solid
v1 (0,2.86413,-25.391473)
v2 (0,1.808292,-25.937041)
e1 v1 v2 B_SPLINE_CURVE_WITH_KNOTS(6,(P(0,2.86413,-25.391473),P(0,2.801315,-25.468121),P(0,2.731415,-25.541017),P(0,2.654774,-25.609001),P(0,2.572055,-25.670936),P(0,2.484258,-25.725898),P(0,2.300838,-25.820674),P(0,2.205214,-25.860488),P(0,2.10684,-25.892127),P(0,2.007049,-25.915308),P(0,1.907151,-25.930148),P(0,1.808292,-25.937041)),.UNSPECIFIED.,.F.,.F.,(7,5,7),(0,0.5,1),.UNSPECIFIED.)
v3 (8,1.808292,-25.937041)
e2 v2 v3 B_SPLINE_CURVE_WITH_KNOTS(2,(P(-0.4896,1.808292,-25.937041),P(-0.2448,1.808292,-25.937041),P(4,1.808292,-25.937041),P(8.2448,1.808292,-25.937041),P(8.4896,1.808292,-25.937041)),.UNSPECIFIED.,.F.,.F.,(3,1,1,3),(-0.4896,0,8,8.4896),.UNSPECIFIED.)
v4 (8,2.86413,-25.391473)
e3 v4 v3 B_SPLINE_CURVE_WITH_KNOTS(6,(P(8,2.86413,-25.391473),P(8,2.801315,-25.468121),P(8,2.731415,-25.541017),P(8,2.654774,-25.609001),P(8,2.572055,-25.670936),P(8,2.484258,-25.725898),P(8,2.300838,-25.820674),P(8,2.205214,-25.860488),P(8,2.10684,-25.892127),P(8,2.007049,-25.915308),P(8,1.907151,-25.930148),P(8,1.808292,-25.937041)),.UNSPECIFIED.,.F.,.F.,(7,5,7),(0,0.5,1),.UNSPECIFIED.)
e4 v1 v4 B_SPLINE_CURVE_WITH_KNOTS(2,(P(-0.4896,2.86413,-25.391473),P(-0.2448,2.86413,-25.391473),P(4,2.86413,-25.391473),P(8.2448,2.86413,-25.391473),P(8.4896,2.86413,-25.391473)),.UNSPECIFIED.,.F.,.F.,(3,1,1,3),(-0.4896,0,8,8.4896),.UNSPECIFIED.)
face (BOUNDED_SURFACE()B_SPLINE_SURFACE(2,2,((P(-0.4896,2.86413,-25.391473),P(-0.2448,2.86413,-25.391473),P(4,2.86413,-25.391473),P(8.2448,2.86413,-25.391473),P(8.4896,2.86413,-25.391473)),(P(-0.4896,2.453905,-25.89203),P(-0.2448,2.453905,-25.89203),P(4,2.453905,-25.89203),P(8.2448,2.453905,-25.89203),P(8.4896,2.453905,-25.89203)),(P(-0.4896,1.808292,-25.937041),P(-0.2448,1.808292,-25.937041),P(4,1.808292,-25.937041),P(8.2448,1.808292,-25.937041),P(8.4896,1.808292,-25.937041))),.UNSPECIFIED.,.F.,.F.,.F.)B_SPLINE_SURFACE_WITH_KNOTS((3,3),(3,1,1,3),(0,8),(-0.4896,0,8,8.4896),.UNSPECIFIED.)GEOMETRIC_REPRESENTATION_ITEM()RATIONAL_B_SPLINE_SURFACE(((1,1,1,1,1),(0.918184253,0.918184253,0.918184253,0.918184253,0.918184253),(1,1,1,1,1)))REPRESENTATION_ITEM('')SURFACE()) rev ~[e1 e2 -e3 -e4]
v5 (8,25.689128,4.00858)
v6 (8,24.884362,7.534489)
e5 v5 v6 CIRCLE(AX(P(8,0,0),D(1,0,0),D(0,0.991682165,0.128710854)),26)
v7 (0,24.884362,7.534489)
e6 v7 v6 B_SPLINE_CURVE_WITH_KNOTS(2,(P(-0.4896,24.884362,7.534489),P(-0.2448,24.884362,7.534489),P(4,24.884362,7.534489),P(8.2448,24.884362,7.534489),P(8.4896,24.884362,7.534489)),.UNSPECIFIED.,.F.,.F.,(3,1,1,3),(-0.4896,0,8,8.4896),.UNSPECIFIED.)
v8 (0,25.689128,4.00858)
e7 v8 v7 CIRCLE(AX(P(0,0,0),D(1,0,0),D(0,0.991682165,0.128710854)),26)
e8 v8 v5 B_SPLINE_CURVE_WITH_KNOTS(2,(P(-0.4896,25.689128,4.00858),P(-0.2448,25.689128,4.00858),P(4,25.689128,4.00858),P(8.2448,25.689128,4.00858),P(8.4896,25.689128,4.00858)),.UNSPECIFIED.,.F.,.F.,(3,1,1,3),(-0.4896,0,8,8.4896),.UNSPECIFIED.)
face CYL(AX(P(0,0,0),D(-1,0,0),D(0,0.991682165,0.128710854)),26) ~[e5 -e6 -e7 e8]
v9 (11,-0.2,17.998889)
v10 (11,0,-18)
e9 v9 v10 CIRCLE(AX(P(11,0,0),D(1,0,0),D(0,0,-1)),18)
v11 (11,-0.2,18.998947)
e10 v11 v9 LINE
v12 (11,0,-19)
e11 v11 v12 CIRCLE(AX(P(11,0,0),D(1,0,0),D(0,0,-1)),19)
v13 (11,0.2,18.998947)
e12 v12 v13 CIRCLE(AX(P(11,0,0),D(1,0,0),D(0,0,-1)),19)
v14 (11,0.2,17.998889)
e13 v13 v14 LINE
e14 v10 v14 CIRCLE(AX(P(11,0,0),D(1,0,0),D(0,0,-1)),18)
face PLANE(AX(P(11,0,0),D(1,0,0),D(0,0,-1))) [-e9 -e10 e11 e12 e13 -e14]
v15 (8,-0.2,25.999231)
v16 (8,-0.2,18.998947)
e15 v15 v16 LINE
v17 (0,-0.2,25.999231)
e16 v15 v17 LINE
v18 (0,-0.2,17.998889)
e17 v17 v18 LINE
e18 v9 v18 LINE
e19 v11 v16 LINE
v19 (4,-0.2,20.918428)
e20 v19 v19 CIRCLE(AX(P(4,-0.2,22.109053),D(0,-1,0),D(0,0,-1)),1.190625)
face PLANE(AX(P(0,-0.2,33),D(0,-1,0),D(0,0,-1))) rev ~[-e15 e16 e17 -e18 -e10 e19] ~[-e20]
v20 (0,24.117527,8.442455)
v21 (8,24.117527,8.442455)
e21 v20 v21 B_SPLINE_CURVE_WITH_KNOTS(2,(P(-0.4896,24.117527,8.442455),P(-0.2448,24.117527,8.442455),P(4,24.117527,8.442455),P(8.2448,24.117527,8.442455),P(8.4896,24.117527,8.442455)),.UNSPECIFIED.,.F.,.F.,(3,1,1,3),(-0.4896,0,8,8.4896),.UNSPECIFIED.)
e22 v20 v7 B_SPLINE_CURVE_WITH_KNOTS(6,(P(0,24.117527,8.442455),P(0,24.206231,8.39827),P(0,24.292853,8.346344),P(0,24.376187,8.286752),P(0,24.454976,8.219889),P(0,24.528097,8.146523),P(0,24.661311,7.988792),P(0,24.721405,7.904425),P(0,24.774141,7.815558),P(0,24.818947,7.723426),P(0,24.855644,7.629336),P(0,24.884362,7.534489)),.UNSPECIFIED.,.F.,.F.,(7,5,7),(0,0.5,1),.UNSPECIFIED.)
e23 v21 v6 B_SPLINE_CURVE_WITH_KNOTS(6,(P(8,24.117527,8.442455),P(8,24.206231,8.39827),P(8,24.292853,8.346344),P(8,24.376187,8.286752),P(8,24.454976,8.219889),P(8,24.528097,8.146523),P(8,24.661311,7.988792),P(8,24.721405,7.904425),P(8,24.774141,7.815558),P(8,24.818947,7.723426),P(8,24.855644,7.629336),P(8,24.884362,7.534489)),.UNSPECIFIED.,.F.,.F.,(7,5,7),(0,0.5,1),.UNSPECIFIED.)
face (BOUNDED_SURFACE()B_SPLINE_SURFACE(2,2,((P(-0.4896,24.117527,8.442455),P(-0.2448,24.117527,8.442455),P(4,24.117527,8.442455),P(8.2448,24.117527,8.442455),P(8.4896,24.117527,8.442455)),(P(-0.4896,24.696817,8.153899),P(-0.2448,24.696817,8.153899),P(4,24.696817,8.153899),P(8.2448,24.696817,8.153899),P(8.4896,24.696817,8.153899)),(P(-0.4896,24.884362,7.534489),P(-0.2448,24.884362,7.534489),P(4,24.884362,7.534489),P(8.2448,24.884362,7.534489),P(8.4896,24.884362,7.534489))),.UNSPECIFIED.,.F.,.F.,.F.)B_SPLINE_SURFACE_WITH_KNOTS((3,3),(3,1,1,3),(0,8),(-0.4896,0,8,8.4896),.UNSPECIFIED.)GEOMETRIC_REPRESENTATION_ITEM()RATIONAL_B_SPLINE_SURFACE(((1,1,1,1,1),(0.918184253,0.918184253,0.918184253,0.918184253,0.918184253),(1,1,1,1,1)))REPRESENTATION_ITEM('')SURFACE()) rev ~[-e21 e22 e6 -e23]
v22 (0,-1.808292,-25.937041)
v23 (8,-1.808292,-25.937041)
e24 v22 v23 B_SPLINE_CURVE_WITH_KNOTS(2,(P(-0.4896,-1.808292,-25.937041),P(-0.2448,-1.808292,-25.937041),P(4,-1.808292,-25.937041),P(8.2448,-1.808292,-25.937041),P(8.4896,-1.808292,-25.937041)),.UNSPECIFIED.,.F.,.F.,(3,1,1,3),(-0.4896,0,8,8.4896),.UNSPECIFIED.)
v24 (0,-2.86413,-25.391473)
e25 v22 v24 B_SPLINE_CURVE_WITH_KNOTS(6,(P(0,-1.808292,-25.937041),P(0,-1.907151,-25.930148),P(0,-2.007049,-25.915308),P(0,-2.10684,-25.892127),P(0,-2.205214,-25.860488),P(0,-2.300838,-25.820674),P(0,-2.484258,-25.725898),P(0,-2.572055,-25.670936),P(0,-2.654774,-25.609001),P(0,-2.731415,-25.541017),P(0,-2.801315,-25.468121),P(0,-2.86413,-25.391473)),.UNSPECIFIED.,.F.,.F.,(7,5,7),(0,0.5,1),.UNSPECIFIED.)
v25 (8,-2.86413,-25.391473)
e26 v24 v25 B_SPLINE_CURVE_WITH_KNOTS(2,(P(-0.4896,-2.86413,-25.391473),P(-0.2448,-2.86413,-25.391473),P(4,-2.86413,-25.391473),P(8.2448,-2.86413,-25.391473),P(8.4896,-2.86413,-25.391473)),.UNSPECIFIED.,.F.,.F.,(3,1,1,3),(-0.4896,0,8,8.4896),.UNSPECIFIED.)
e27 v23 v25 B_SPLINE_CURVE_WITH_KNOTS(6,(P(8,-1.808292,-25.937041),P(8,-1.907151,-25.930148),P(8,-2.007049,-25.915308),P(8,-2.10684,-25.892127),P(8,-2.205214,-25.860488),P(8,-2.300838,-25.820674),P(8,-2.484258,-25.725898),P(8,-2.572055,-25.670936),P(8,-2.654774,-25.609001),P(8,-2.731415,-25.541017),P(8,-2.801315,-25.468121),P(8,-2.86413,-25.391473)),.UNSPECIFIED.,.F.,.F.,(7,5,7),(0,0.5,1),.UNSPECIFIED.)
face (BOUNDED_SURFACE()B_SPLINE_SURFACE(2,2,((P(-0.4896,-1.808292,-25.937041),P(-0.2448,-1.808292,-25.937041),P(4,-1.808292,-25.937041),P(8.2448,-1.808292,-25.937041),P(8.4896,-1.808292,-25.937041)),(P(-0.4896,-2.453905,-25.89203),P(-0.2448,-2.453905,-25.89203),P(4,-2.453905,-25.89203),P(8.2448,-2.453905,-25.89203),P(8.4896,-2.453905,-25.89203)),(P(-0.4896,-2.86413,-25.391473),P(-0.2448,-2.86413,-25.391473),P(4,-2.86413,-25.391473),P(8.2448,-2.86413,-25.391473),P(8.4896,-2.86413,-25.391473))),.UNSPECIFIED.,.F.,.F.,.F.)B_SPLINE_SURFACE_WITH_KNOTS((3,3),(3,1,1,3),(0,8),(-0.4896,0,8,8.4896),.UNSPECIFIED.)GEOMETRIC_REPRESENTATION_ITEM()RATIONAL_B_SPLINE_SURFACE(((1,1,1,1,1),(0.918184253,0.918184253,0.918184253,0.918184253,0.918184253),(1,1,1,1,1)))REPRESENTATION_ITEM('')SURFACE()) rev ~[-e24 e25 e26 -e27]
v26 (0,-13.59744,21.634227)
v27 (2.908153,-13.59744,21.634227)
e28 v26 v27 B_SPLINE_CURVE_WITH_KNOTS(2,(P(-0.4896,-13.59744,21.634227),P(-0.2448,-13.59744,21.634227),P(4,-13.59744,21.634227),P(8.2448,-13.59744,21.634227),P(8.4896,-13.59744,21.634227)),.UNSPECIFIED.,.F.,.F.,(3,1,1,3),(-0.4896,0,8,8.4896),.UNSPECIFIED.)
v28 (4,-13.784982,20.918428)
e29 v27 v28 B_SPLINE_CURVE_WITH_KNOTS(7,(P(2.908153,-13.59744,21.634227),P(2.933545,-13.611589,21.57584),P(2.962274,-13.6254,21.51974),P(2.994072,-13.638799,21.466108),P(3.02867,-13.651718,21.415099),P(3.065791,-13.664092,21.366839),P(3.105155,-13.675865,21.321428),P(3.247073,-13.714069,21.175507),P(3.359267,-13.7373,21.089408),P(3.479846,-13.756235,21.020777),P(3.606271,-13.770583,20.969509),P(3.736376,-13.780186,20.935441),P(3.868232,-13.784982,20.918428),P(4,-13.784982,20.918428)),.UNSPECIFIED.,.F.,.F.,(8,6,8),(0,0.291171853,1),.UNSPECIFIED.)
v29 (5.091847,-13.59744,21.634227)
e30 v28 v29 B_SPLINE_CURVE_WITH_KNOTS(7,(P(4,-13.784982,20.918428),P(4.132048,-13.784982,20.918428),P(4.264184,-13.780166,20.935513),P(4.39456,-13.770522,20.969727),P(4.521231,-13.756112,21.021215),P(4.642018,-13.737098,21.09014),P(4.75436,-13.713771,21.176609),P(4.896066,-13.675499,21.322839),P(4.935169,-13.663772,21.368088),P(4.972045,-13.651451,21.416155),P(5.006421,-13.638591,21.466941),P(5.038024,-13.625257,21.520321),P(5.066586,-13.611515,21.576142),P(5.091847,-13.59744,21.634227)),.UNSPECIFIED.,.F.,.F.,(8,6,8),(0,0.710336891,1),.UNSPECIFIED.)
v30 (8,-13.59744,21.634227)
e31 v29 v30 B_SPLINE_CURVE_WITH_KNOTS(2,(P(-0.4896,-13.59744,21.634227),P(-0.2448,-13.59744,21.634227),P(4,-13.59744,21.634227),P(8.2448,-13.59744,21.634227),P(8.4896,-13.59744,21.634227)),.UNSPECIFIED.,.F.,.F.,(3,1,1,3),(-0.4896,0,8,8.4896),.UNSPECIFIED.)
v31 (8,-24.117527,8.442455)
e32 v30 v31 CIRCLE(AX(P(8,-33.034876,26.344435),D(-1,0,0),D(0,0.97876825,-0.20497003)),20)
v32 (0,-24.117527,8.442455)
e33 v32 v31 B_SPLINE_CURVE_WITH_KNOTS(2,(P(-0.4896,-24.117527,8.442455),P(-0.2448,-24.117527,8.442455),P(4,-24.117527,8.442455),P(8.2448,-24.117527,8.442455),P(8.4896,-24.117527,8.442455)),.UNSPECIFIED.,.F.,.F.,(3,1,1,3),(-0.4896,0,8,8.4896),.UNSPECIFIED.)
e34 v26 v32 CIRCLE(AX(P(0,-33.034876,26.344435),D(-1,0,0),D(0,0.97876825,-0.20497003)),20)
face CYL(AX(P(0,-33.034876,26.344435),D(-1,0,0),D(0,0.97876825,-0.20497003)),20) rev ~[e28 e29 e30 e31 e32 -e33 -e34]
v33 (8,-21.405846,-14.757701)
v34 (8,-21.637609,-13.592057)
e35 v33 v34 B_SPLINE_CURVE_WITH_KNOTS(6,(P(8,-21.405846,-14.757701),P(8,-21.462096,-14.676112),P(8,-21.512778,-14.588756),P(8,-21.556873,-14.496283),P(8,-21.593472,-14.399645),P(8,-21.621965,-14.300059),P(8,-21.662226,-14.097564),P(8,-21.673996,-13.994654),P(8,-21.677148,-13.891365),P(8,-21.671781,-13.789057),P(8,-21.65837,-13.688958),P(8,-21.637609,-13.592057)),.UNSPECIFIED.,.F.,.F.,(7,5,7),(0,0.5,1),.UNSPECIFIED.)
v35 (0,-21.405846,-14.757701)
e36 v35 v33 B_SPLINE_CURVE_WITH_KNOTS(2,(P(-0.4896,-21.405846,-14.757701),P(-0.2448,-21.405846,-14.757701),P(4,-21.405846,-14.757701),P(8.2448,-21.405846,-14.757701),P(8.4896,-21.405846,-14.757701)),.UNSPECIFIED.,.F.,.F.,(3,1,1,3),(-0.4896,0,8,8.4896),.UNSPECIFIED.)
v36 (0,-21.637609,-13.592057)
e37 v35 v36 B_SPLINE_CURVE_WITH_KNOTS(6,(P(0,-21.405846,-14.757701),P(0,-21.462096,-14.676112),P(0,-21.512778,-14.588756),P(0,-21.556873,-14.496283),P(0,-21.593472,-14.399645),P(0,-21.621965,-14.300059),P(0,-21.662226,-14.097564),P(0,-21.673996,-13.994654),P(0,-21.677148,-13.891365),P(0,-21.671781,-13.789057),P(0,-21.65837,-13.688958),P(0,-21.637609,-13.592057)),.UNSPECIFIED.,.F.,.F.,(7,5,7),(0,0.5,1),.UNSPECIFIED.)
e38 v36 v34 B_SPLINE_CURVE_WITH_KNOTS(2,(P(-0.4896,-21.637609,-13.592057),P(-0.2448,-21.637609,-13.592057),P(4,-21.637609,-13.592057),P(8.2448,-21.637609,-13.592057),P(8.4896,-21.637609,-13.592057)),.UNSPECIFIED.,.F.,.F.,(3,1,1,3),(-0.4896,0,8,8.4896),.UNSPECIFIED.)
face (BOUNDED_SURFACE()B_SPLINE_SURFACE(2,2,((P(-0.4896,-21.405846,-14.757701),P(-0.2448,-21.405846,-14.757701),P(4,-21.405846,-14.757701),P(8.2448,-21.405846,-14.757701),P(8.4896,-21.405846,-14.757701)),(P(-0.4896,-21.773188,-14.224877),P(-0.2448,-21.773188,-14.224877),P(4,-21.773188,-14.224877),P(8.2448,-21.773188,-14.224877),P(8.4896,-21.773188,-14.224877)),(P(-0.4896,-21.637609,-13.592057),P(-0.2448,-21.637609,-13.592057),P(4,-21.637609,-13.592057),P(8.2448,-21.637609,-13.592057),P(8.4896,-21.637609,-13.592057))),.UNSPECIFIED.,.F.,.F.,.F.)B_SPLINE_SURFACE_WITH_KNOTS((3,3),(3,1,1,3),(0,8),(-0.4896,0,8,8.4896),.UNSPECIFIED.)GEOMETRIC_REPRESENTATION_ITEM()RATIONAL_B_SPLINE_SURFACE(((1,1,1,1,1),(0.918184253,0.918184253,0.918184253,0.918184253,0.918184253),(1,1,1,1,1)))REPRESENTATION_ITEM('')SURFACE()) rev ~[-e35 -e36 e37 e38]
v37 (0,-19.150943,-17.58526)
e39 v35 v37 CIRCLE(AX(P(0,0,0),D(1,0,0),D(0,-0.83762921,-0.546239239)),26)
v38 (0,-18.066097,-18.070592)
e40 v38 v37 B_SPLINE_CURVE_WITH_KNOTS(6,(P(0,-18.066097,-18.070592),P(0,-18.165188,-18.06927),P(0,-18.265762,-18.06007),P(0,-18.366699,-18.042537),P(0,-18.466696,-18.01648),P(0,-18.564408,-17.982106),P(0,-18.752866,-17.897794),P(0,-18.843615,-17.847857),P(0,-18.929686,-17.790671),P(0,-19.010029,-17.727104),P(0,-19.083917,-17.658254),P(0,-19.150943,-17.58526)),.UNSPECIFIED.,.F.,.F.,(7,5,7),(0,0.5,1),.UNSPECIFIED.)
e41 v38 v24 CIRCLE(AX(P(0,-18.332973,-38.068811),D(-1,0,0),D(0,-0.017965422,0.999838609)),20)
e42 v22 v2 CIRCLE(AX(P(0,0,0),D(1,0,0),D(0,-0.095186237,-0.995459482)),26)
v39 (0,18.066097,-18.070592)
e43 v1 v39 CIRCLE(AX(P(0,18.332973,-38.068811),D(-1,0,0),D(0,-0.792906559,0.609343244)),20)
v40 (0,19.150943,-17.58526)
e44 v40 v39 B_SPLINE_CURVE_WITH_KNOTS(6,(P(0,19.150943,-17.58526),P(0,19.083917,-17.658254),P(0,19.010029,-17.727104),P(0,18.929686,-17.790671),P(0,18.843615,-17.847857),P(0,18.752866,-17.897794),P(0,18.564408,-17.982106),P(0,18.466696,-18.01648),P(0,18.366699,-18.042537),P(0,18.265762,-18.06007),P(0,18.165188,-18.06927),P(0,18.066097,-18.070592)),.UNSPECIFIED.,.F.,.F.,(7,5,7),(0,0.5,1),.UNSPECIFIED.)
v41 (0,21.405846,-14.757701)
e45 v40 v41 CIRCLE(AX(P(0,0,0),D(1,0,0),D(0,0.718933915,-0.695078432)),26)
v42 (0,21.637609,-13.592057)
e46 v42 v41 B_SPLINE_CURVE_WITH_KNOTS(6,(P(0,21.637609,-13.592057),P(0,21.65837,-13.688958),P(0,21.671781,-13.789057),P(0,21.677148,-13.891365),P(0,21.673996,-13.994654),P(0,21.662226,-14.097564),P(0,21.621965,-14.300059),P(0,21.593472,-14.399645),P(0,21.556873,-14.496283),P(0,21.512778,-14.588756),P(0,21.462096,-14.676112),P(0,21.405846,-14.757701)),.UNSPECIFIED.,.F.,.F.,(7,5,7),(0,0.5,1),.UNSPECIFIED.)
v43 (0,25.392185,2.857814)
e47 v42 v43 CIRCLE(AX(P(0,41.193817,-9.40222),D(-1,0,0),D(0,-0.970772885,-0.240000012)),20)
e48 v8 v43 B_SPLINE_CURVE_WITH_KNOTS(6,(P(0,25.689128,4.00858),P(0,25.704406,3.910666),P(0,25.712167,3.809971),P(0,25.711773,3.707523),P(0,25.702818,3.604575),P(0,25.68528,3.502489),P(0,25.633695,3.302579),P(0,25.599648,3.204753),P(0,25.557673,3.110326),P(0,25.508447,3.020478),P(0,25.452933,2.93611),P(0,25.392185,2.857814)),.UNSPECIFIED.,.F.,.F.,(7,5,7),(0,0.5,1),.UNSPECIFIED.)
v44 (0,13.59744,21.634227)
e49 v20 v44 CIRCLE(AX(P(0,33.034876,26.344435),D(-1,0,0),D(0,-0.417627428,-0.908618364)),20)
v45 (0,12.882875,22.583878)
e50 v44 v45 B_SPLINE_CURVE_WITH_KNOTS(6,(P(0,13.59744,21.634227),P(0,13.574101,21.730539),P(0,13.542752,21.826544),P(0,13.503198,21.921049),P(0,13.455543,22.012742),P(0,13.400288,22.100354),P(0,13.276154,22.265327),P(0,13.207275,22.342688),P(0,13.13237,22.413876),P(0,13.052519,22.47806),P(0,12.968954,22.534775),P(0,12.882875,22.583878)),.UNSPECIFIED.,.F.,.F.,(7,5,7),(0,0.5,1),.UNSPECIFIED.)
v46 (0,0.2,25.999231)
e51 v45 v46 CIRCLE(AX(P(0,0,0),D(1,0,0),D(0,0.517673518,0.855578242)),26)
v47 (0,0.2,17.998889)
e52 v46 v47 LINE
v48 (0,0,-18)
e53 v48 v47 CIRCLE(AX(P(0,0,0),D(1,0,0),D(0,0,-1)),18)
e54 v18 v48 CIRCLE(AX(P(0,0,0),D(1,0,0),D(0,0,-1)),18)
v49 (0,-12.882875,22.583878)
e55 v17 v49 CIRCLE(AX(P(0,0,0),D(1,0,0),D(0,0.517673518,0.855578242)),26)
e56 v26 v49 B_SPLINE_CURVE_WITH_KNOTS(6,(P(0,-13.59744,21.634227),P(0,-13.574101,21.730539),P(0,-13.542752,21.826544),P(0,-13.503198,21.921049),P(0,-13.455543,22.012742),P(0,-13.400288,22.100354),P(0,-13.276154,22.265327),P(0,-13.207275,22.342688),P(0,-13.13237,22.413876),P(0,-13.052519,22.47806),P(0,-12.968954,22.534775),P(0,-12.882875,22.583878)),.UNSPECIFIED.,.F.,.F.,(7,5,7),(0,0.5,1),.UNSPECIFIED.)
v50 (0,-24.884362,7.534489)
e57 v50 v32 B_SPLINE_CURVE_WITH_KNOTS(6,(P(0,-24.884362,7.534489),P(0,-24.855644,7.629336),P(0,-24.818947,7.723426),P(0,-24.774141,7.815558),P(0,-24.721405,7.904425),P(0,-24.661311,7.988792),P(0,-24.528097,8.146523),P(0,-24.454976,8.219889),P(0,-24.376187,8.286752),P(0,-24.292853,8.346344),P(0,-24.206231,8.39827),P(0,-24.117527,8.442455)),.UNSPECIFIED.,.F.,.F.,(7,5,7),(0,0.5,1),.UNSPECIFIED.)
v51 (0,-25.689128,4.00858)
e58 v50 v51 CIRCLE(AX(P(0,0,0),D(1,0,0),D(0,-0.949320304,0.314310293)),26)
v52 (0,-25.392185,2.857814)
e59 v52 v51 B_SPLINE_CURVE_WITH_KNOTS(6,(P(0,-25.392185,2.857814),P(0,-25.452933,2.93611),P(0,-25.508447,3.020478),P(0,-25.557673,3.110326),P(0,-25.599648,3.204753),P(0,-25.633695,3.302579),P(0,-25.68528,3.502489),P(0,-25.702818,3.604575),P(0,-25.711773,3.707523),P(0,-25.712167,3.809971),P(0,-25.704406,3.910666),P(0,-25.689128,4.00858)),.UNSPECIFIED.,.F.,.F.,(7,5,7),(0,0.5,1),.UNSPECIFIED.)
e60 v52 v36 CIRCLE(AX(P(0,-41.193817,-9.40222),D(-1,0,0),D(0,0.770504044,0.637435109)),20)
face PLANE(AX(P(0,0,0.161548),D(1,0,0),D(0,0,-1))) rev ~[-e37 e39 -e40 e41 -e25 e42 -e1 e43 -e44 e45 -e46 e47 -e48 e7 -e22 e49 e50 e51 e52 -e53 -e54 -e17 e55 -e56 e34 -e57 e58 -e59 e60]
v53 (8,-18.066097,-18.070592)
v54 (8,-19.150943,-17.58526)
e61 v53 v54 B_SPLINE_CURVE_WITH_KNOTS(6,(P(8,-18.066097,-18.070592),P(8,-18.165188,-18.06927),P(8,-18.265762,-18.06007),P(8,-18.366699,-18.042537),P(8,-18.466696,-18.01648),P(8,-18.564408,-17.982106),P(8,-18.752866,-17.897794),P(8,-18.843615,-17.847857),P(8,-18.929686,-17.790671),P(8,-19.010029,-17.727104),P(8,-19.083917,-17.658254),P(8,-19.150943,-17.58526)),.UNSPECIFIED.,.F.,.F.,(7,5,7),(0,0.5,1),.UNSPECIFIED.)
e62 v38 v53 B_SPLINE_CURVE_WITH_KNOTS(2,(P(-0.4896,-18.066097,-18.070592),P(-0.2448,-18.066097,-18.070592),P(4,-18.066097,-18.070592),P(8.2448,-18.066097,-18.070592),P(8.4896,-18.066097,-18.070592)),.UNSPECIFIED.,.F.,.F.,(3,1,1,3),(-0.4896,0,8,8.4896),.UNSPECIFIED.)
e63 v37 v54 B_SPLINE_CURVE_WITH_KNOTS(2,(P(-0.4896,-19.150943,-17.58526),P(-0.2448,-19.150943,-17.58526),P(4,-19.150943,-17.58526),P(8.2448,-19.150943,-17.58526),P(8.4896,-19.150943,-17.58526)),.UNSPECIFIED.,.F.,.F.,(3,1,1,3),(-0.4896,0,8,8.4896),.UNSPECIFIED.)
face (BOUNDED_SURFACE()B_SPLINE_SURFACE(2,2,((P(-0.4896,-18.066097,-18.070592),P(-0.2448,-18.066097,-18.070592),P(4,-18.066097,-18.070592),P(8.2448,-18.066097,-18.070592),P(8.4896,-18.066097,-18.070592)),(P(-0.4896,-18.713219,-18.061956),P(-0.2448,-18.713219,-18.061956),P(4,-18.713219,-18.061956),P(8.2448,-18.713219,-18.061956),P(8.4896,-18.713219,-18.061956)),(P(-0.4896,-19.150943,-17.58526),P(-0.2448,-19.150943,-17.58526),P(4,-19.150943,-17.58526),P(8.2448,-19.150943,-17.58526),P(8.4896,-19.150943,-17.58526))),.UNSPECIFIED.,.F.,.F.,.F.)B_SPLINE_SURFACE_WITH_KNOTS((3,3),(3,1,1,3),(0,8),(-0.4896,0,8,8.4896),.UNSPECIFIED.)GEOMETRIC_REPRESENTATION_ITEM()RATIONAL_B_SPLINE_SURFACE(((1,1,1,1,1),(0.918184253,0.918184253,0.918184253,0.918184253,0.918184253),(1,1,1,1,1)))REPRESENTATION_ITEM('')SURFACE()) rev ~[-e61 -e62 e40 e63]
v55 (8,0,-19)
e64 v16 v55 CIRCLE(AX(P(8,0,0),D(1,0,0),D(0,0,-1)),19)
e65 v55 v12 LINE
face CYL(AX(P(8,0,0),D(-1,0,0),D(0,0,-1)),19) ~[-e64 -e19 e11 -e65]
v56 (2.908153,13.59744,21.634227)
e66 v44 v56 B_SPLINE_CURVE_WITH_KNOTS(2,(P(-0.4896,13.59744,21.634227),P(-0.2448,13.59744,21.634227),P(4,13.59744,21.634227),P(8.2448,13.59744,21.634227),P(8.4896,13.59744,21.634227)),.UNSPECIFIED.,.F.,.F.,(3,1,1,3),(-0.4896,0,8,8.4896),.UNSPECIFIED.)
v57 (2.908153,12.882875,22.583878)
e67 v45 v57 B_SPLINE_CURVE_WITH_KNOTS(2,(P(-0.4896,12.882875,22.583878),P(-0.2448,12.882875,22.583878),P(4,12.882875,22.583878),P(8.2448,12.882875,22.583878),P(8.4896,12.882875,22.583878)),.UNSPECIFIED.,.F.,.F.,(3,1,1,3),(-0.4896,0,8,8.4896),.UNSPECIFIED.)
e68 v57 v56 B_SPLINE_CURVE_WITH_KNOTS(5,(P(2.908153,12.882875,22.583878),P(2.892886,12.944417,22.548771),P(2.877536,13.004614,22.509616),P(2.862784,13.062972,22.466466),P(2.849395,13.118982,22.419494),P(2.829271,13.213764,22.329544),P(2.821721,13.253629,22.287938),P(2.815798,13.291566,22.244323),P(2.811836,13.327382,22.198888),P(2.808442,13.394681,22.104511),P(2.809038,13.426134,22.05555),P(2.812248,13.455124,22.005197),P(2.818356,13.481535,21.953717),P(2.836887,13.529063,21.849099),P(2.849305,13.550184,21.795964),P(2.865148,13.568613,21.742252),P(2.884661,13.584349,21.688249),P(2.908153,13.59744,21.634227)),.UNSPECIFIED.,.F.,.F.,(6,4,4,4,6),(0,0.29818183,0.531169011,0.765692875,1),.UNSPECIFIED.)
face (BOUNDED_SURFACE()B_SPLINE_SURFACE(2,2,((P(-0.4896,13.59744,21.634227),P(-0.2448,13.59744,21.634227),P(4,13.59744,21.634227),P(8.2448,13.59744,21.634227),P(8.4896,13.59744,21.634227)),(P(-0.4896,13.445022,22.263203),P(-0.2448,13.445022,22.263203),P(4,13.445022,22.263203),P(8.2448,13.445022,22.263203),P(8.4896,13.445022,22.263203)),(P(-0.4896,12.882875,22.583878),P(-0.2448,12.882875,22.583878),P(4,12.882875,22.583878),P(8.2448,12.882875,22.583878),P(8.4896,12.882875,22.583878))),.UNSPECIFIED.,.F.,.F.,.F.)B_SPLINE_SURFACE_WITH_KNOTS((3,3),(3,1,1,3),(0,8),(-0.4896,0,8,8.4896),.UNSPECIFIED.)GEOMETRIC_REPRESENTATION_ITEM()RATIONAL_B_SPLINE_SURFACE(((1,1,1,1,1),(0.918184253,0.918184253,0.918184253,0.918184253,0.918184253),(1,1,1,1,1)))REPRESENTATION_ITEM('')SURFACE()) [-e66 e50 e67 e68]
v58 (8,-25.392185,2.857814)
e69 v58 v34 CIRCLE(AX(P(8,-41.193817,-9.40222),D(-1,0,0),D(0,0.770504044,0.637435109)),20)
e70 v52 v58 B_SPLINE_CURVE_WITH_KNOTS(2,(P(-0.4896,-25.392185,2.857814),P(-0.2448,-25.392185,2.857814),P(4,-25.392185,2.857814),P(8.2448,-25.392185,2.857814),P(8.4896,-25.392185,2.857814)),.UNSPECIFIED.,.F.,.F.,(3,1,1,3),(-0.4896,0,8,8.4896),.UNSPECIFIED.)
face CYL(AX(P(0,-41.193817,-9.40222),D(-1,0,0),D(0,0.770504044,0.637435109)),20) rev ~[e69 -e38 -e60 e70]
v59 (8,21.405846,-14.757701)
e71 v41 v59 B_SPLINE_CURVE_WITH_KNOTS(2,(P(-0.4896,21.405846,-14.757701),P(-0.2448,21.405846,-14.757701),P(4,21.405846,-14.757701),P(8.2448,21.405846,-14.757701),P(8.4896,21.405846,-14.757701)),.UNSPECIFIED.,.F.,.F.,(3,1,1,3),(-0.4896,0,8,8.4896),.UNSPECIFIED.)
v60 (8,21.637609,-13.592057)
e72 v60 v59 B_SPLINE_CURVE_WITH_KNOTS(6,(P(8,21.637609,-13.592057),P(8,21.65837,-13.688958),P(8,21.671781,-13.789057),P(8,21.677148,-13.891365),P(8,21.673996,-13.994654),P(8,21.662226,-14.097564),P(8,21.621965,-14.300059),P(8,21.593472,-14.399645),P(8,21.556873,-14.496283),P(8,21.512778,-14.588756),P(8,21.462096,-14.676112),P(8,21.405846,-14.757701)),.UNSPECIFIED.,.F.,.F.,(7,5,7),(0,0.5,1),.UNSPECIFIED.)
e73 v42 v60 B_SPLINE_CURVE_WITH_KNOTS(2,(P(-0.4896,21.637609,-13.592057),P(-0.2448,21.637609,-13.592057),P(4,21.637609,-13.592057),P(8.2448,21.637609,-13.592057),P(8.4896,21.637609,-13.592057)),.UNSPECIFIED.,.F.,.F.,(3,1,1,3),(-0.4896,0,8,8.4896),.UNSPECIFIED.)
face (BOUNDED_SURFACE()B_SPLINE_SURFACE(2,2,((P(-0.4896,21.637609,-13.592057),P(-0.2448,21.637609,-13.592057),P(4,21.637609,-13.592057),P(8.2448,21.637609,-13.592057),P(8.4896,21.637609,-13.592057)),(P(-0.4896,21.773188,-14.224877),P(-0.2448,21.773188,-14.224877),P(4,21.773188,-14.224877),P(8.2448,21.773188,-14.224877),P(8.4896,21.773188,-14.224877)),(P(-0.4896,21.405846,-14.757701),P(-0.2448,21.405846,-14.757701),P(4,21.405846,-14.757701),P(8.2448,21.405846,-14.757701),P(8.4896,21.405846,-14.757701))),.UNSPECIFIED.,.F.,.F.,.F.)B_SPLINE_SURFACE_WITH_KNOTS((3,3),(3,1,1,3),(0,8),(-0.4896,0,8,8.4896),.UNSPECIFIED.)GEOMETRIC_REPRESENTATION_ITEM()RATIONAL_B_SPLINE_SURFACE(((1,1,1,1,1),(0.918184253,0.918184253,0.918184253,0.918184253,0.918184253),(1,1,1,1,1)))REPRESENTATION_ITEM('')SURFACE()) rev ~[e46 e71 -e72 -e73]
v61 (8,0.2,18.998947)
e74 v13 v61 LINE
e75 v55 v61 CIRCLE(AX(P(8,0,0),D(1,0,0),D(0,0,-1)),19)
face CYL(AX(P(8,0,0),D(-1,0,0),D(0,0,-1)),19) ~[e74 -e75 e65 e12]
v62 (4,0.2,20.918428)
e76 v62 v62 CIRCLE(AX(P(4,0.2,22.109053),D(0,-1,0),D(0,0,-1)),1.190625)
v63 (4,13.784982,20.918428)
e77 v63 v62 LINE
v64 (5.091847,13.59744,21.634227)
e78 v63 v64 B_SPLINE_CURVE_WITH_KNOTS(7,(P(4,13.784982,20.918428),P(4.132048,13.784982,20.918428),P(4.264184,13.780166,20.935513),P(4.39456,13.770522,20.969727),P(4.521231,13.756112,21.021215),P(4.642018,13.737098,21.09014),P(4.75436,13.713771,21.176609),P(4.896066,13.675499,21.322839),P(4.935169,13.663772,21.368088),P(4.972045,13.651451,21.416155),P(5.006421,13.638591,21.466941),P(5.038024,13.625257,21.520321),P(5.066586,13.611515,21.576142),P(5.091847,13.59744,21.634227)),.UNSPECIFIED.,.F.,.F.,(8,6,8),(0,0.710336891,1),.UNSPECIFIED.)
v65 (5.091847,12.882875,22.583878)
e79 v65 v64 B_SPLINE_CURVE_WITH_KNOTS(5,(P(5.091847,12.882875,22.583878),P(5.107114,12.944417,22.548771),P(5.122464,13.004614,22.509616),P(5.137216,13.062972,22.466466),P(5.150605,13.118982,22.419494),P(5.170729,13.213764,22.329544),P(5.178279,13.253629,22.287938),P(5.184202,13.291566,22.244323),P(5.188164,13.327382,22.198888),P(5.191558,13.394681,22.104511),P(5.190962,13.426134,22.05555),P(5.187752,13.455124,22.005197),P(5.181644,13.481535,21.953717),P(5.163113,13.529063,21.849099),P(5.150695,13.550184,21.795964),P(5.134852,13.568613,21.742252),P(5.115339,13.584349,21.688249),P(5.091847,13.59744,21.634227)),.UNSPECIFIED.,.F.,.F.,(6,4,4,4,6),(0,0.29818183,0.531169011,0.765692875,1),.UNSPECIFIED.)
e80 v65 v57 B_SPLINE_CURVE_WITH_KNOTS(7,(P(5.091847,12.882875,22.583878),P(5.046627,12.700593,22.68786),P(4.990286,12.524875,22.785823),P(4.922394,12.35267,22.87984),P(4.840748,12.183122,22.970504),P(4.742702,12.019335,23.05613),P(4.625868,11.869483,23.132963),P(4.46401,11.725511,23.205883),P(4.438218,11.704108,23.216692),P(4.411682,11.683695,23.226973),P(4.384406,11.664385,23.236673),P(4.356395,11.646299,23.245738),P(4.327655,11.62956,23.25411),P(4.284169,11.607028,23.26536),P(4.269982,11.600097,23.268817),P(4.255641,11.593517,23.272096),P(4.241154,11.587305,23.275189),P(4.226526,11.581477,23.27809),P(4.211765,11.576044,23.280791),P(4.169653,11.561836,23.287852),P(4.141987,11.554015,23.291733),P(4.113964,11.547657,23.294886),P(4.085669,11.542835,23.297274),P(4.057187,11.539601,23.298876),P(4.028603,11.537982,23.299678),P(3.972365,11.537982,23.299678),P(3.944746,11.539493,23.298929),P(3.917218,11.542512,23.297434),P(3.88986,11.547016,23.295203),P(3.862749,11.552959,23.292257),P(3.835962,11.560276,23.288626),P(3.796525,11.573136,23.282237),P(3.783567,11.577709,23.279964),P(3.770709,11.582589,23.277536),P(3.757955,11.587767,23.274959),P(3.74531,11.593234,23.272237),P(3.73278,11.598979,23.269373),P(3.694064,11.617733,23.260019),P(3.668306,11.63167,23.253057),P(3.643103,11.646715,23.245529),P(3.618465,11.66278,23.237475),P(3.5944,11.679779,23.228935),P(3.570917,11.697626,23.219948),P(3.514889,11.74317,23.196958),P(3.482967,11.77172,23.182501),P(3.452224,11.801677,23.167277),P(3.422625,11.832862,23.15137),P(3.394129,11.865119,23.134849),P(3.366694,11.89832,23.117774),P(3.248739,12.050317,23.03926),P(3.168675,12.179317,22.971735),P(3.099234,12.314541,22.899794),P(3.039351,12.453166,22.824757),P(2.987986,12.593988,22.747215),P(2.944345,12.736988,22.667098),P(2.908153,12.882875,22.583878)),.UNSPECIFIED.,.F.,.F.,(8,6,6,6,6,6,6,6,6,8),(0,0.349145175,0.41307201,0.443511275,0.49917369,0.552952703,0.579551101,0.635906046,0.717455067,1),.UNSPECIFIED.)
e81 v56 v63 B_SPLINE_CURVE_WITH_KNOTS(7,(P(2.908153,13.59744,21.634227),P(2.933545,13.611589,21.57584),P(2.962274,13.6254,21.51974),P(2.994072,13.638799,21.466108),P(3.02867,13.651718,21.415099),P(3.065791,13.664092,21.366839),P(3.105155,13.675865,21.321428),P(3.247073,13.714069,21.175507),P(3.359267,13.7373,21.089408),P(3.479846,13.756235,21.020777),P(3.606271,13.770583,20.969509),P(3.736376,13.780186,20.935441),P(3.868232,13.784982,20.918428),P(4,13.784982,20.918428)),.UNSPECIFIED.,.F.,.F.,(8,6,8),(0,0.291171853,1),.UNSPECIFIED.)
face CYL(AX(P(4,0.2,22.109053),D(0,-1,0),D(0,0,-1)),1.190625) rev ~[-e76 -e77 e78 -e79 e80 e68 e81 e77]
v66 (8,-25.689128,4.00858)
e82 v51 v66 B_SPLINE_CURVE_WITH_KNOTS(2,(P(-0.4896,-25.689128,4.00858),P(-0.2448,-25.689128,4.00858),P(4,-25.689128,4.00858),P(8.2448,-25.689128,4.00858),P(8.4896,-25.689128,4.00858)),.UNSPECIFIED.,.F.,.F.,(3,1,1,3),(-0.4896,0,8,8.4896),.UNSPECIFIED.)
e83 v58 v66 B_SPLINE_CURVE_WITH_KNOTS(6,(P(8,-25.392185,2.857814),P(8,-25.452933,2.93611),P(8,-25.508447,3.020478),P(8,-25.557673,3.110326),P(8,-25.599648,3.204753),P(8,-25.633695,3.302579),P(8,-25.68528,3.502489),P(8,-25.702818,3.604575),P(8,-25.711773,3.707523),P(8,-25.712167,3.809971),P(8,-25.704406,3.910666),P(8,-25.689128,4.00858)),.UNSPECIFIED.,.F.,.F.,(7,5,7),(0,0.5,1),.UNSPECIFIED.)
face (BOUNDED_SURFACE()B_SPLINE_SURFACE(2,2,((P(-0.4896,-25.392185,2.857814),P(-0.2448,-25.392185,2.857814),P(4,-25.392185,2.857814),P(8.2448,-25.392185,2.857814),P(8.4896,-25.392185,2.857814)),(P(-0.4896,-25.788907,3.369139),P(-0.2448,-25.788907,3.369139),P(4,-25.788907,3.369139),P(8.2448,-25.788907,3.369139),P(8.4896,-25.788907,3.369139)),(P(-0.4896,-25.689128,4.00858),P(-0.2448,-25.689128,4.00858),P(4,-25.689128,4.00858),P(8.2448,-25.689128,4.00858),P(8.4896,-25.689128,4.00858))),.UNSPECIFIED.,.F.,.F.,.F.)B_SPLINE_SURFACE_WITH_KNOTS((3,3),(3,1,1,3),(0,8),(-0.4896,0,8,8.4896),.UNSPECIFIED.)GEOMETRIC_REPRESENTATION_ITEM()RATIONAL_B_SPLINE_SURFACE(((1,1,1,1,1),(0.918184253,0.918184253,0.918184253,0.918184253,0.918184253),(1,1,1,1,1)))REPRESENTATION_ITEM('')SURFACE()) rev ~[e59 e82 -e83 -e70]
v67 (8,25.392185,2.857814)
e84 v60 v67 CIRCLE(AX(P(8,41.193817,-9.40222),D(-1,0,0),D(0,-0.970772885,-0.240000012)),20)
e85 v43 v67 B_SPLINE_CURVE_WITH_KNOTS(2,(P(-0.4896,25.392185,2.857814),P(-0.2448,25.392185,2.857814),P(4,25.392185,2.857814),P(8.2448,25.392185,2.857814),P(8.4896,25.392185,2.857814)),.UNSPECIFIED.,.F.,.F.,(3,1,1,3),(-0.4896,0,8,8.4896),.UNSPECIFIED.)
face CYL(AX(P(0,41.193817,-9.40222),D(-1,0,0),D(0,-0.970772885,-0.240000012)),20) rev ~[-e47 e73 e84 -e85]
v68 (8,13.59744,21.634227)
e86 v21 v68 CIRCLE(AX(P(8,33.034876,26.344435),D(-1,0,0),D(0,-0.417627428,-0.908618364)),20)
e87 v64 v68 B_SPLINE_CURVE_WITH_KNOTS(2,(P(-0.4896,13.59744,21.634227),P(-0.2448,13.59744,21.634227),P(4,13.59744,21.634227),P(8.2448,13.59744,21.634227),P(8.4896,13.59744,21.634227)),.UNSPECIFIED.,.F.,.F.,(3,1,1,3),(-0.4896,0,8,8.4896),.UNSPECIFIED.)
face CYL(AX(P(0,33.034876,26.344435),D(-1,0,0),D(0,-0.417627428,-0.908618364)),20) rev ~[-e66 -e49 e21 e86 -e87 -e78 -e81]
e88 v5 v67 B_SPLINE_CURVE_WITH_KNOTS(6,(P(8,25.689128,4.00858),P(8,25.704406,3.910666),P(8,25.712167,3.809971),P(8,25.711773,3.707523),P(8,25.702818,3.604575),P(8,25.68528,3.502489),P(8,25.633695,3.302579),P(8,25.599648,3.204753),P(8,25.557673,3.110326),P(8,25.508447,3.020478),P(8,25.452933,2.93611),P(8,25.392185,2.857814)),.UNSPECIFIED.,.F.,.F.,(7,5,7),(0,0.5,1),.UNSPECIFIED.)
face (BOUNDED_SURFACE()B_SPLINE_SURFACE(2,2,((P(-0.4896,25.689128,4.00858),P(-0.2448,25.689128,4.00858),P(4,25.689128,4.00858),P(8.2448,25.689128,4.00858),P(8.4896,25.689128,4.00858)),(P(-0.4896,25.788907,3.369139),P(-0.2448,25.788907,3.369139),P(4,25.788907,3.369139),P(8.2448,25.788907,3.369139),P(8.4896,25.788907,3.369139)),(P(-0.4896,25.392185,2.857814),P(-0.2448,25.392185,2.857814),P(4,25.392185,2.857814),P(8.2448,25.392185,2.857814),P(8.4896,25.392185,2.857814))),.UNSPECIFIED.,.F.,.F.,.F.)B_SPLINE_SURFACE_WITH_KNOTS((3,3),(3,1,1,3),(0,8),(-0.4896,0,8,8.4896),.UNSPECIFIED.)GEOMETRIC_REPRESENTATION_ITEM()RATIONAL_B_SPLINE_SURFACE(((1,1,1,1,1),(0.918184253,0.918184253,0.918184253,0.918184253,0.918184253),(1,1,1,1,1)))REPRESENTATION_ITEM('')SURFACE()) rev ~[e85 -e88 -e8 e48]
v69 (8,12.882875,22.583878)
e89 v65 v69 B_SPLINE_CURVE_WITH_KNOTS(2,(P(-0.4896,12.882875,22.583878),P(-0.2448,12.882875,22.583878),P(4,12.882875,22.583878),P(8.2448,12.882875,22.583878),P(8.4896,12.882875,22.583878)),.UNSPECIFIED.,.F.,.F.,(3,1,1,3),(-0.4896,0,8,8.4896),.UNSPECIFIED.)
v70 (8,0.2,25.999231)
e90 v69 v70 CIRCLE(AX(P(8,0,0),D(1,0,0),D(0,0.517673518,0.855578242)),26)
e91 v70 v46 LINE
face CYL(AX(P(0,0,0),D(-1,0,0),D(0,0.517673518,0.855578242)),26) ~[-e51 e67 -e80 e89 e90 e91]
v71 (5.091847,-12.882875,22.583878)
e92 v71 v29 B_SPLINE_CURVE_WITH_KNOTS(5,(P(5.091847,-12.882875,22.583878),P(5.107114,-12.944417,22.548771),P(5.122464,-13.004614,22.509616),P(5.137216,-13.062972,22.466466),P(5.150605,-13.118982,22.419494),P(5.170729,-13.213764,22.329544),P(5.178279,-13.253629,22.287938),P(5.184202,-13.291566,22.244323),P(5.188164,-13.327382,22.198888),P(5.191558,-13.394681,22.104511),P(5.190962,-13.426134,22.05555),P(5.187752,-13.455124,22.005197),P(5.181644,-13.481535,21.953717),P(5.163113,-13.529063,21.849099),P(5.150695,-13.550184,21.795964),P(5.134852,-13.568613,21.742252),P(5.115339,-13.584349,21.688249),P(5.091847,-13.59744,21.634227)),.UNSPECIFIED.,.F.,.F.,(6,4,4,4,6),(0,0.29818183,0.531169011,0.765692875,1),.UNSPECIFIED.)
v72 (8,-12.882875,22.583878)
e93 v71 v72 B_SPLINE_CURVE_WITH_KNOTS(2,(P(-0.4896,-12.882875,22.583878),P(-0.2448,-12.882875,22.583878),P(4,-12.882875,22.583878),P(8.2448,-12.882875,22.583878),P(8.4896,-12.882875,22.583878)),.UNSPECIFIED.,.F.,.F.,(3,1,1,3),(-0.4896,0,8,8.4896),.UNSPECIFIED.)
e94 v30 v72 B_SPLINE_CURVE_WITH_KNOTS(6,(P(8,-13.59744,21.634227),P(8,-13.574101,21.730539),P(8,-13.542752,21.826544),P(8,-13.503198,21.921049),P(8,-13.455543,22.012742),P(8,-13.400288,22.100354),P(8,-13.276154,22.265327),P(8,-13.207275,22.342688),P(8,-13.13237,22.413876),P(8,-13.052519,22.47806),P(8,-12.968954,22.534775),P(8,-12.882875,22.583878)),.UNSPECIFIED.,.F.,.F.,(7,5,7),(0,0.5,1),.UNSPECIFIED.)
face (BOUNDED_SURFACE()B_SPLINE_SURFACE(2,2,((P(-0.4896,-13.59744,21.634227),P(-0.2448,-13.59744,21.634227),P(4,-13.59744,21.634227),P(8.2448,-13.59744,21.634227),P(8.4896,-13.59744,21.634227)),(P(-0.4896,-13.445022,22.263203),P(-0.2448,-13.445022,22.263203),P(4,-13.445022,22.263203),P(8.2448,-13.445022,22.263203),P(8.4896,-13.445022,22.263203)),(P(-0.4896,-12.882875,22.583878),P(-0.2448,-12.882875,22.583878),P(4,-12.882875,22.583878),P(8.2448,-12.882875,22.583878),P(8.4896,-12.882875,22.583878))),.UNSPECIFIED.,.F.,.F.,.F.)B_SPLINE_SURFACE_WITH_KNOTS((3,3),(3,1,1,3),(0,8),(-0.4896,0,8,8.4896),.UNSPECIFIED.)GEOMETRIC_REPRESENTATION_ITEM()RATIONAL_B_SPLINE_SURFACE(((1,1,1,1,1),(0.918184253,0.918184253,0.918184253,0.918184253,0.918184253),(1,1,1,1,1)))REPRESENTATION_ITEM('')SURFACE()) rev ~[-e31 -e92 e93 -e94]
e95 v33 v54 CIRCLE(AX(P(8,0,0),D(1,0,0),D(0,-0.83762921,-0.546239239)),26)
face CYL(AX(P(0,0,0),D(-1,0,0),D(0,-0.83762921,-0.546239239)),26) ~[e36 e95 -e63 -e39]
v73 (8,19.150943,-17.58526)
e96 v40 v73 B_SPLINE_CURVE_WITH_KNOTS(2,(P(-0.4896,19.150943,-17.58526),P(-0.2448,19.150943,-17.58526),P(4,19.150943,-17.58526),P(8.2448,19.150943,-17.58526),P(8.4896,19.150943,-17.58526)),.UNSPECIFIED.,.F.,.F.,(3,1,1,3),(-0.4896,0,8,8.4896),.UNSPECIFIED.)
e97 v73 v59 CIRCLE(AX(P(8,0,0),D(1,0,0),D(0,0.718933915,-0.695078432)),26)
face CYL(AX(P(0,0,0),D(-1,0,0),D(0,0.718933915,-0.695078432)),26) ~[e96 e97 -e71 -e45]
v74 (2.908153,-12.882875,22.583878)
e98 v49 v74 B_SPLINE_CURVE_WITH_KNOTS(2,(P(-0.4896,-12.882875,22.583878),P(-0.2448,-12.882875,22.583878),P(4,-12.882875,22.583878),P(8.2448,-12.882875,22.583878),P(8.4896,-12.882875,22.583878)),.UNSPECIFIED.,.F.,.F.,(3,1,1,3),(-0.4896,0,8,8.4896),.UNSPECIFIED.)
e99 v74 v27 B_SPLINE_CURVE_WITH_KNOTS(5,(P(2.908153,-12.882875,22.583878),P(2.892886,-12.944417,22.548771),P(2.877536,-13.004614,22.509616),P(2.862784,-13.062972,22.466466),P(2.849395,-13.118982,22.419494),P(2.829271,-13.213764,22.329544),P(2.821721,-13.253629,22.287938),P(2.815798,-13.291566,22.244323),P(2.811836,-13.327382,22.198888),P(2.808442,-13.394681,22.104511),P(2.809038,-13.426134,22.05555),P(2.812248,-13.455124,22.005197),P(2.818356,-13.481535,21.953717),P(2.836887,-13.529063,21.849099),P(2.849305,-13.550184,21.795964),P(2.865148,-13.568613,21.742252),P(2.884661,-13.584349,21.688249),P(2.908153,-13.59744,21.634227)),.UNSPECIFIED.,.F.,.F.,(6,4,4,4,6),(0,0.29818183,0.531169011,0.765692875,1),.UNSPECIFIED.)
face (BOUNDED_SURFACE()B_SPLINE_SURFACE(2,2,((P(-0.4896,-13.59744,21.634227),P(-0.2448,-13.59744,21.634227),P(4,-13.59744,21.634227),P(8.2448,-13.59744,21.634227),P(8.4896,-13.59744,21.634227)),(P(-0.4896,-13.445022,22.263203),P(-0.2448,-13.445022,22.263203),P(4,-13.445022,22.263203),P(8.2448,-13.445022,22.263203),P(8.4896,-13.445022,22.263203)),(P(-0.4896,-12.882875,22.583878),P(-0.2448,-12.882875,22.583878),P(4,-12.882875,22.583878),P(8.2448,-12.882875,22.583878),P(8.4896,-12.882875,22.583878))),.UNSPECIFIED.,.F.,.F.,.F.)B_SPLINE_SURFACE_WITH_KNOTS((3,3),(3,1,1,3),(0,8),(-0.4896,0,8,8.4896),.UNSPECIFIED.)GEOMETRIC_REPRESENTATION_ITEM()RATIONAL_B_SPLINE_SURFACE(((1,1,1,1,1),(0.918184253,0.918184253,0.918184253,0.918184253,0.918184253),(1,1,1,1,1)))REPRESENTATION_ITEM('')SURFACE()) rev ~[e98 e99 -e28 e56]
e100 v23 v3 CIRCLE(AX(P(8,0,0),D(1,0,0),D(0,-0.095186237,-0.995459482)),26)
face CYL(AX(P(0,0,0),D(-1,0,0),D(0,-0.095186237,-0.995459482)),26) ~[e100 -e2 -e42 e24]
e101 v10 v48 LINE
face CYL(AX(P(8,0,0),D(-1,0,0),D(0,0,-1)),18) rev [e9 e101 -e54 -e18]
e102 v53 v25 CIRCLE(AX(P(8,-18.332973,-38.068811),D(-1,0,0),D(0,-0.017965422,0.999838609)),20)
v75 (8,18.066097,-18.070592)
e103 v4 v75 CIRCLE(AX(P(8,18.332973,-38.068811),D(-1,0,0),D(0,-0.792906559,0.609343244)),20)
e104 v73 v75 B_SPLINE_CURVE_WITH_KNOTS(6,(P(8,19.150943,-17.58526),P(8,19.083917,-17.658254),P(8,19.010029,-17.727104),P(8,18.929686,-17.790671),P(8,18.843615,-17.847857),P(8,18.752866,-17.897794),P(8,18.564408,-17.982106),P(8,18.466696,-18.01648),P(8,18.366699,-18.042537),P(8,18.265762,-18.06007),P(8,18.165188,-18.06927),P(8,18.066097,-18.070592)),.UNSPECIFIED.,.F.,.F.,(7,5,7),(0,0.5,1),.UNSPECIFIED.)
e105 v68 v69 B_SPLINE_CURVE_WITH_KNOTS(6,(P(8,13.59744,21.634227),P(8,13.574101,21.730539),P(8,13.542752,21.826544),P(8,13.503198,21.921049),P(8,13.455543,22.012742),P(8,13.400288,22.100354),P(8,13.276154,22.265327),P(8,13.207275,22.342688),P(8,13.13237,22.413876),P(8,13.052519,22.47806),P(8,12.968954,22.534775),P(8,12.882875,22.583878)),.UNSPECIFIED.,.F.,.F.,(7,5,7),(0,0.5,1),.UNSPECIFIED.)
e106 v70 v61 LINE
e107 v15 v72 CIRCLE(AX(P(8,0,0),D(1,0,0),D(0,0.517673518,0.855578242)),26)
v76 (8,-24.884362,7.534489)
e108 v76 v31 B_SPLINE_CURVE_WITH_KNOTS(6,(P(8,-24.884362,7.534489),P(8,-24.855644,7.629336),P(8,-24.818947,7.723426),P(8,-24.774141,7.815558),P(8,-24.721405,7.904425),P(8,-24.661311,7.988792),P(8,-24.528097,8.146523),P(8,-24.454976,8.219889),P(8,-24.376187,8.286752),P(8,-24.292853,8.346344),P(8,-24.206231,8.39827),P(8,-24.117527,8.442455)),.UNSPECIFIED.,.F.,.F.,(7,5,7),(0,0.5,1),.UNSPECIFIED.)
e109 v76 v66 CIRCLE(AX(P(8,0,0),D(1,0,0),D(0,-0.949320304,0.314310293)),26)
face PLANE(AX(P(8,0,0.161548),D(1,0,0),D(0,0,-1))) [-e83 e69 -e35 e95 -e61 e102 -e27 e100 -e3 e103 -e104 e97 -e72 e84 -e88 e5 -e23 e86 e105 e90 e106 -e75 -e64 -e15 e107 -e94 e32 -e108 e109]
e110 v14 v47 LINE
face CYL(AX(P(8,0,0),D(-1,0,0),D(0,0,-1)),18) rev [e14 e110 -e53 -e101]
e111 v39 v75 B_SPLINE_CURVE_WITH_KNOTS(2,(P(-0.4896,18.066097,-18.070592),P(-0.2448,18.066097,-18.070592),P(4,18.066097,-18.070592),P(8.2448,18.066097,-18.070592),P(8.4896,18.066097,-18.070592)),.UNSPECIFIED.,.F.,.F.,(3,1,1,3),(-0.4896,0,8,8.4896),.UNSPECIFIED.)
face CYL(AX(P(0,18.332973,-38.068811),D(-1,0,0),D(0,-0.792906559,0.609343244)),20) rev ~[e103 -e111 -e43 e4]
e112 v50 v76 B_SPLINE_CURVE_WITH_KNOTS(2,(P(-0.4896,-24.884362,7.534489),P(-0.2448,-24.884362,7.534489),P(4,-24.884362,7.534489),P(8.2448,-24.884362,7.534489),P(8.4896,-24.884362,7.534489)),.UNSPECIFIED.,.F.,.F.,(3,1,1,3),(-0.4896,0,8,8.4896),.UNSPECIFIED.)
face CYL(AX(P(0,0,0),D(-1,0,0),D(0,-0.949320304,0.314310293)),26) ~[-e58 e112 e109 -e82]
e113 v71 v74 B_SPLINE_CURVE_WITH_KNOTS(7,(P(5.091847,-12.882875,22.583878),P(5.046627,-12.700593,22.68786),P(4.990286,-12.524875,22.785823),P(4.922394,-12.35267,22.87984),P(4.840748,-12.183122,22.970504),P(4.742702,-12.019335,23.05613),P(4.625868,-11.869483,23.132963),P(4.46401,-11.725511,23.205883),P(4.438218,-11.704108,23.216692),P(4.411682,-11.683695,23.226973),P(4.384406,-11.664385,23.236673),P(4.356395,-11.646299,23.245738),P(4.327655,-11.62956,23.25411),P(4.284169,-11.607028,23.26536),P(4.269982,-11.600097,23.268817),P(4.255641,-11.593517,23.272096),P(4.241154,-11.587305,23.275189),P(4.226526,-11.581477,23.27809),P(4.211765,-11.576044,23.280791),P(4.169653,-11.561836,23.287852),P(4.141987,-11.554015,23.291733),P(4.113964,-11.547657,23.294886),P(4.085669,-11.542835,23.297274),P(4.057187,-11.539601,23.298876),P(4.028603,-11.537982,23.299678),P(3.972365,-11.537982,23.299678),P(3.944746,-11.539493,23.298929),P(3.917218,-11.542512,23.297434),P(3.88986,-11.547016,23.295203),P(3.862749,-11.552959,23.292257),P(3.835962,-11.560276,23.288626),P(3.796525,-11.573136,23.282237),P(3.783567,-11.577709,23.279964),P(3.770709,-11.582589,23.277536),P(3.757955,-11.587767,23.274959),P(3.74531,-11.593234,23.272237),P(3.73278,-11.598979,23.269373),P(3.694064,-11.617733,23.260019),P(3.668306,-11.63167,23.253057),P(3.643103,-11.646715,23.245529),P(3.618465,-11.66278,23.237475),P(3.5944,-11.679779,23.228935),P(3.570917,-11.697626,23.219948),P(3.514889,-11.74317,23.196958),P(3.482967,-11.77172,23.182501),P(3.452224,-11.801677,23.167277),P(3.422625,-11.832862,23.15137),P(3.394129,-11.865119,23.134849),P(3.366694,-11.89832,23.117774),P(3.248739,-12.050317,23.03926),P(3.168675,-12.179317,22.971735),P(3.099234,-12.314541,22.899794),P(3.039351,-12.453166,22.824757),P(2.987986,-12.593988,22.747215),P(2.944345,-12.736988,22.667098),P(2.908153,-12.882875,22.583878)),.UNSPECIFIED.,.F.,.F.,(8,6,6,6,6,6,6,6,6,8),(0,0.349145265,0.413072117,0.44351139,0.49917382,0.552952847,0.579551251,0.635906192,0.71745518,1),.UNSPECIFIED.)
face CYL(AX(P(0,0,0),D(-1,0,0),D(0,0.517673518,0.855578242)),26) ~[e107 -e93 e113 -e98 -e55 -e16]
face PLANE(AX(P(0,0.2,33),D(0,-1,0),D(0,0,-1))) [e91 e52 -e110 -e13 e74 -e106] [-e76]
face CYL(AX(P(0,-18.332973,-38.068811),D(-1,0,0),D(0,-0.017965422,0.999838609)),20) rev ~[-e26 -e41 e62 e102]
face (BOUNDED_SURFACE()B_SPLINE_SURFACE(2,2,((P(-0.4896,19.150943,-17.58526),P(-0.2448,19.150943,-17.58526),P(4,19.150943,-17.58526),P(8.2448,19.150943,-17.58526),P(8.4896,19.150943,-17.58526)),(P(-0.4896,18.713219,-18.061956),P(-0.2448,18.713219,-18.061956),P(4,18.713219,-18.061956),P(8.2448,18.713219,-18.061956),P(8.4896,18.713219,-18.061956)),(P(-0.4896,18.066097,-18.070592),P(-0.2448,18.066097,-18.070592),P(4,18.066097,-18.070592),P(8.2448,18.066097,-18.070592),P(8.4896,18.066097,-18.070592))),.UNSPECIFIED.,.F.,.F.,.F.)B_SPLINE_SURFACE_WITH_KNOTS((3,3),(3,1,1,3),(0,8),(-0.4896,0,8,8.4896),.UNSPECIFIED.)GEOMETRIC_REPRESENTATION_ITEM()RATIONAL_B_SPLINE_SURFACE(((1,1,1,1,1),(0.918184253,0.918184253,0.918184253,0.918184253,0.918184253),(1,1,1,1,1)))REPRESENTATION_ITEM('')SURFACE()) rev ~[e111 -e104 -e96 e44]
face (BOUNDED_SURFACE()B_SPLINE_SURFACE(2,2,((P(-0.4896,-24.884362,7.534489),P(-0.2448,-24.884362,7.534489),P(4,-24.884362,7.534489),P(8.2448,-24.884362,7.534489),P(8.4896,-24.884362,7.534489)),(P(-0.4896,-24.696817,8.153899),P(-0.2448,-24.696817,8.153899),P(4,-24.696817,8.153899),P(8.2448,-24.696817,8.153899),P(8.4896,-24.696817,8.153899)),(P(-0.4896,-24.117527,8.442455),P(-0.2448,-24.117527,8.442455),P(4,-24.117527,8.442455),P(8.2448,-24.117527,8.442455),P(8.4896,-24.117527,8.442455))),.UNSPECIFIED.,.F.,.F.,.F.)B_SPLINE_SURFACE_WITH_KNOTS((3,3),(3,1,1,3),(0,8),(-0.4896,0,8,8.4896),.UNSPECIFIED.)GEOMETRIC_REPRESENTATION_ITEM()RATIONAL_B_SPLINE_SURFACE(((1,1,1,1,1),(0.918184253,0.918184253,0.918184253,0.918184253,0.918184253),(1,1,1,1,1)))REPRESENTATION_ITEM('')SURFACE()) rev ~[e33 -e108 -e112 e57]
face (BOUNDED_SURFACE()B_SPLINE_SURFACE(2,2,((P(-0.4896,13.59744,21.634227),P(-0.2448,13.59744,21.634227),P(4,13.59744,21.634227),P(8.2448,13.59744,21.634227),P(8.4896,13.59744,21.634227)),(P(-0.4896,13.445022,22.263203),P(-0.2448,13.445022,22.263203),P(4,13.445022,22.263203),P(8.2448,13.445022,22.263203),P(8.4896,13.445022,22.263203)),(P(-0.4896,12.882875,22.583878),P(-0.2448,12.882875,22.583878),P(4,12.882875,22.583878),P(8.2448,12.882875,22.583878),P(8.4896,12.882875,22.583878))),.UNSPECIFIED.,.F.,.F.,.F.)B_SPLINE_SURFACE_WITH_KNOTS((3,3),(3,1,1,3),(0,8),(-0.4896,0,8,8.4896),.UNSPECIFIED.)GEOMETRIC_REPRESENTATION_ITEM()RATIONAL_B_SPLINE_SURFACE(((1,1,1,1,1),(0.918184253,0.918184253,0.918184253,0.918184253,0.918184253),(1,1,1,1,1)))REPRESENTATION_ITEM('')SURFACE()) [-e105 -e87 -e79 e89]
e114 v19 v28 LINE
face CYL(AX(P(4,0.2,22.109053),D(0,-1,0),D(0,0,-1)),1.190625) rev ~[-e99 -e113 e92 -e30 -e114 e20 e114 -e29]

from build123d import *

# Parameters (mm, degrees)
CROQUIS1_R              = 18
SALIENTE_EXTRUIR1_DEPTH = 8
CROQUIS2_R              = 19
CROQUIS2_R_2            = 18
SALIENTE_EXTRUIR2_DEPTH = 3
CROQUIS3_W              = 33
CROQUIS3_H              = 0.4
CORTAR_EXTRUIR2_DEPTH   = 16.5
REDONDEO1_R             = 1.5
CROQUIS4_R              = 1.190625
CORTAR_EXTRUIR3_DEPTH   = 16.5


with BuildPart() as part:
    # Croquis1 → Saliente-Extruir1 (new body)
    with BuildSketch(Plane(origin=(0, 0, 0), x_dir=(0, 0, -1), z_dir=(1, 0, 0))):
        with BuildLine():
            ThreePointArc((-22.245034297, 13.459511474), (-26, 0), (-22.245034297, -13.459511474))
            ThreePointArc((-22.245034297, -13.459511474), (-13.874638854, -17.398246822), (-8.172067613, -24.682327908))
            ThreePointArc((-8.172067613, -24.682327908), (-5.785544283, -25.348125717), (-3.346482217, -25.783736284))
            ThreePointArc((-3.346482217, -25.783736284), (4.951801275, -21.695258927), (14.202220202, -21.778359473))
            ThreePointArc((14.202220202, -21.778359473), (16.210734848, -20.327618544), (18.072039228, -18.69228178))
            ThreePointArc((18.072039228, -18.69228178), (20.049434046, -9.655298558), (25.881946532, -2.474842158))
            ThreePointArc((25.881946532, -2.474842158), (26, 0), (25.881946532, 2.474842158))
            ThreePointArc((25.881946532, 2.474842158), (20.049434046, 9.655298558), (18.072039228, 18.69228178))
            ThreePointArc((18.072039228, 18.69228178), (16.210734848, 20.327618544), (14.202220202, 21.778359473))
            ThreePointArc((14.202220202, 21.778359473), (4.951801275, 21.695258927), (-3.346482217, 25.783736284))
            ThreePointArc((-3.346482217, 25.783736284), (-5.785544283, 25.348125717), (-8.172067613, 24.682327908))
            ThreePointArc((-8.172067613, 24.682327908), (-13.874638854, 17.398246822), (-22.245034297, 13.459511474))
        make_face()
        Circle(CROQUIS1_R, mode=Mode.SUBTRACT)
    extrude(amount=SALIENTE_EXTRUIR1_DEPTH)

    # Croquis2 → Saliente-Extruir2 (add)
    with BuildSketch(Plane(origin=(8, 0, 0), x_dir=(0, 0, -1), z_dir=(1, 0, 0))):
        Circle(CROQUIS2_R)
        Circle(CROQUIS2_R_2, mode=Mode.SUBTRACT)
    extrude(amount=SALIENTE_EXTRUIR2_DEPTH)

    # Croquis3 → Cortar-Extruir2 (cut, symmetric)
    with BuildSketch(Plane(origin=(0, 0, 0), x_dir=(0, 0, -1), z_dir=(1, 0, 0))):
        with Locations((-16.5, 0)):
            Rectangle(CROQUIS3_W, CROQUIS3_H)
    extrude(amount=CORTAR_EXTRUIR2_DEPTH, both=True, mode=Mode.SUBTRACT)

    # Redondeo1
    redondeo1_edges = [part.edges().sort_by_distance(p)[0] for p in [
        (4, 25.783736284, 3.346482217),
        (4, 21.778359473, -14.202220202),
        (4, 18.69228178, -18.072039228),
        (4, 2.474842158, -25.881946532),
        (4, -2.474842158, -25.881946532),
        (4, -18.69228178, -18.072039228),
        (4, -21.778359473, -14.202220202),
        (4, -25.783736284, 3.346482217),
        (4, -24.682327908, 8.172067613),
        (4, -13.459511474, 22.245034297),
        (4, 13.459511474, 22.245034297),
        (4, 24.682327908, 8.172067613),
    ]]
    fillet(redondeo1_edges, radius=REDONDEO1_R)

    # Croquis4 → Cortar-Extruir3 (cut, symmetric)
    with BuildSketch(Plane.XZ.offset(-0.2)):
        with Locations(Location((4, 22.109052571, 0), (0, 0, 270))):
            Circle(CROQUIS4_R)
    extrude(amount=CORTAR_EXTRUIR3_DEPTH, both=True, mode=Mode.SUBTRACT)


solid = part.part
